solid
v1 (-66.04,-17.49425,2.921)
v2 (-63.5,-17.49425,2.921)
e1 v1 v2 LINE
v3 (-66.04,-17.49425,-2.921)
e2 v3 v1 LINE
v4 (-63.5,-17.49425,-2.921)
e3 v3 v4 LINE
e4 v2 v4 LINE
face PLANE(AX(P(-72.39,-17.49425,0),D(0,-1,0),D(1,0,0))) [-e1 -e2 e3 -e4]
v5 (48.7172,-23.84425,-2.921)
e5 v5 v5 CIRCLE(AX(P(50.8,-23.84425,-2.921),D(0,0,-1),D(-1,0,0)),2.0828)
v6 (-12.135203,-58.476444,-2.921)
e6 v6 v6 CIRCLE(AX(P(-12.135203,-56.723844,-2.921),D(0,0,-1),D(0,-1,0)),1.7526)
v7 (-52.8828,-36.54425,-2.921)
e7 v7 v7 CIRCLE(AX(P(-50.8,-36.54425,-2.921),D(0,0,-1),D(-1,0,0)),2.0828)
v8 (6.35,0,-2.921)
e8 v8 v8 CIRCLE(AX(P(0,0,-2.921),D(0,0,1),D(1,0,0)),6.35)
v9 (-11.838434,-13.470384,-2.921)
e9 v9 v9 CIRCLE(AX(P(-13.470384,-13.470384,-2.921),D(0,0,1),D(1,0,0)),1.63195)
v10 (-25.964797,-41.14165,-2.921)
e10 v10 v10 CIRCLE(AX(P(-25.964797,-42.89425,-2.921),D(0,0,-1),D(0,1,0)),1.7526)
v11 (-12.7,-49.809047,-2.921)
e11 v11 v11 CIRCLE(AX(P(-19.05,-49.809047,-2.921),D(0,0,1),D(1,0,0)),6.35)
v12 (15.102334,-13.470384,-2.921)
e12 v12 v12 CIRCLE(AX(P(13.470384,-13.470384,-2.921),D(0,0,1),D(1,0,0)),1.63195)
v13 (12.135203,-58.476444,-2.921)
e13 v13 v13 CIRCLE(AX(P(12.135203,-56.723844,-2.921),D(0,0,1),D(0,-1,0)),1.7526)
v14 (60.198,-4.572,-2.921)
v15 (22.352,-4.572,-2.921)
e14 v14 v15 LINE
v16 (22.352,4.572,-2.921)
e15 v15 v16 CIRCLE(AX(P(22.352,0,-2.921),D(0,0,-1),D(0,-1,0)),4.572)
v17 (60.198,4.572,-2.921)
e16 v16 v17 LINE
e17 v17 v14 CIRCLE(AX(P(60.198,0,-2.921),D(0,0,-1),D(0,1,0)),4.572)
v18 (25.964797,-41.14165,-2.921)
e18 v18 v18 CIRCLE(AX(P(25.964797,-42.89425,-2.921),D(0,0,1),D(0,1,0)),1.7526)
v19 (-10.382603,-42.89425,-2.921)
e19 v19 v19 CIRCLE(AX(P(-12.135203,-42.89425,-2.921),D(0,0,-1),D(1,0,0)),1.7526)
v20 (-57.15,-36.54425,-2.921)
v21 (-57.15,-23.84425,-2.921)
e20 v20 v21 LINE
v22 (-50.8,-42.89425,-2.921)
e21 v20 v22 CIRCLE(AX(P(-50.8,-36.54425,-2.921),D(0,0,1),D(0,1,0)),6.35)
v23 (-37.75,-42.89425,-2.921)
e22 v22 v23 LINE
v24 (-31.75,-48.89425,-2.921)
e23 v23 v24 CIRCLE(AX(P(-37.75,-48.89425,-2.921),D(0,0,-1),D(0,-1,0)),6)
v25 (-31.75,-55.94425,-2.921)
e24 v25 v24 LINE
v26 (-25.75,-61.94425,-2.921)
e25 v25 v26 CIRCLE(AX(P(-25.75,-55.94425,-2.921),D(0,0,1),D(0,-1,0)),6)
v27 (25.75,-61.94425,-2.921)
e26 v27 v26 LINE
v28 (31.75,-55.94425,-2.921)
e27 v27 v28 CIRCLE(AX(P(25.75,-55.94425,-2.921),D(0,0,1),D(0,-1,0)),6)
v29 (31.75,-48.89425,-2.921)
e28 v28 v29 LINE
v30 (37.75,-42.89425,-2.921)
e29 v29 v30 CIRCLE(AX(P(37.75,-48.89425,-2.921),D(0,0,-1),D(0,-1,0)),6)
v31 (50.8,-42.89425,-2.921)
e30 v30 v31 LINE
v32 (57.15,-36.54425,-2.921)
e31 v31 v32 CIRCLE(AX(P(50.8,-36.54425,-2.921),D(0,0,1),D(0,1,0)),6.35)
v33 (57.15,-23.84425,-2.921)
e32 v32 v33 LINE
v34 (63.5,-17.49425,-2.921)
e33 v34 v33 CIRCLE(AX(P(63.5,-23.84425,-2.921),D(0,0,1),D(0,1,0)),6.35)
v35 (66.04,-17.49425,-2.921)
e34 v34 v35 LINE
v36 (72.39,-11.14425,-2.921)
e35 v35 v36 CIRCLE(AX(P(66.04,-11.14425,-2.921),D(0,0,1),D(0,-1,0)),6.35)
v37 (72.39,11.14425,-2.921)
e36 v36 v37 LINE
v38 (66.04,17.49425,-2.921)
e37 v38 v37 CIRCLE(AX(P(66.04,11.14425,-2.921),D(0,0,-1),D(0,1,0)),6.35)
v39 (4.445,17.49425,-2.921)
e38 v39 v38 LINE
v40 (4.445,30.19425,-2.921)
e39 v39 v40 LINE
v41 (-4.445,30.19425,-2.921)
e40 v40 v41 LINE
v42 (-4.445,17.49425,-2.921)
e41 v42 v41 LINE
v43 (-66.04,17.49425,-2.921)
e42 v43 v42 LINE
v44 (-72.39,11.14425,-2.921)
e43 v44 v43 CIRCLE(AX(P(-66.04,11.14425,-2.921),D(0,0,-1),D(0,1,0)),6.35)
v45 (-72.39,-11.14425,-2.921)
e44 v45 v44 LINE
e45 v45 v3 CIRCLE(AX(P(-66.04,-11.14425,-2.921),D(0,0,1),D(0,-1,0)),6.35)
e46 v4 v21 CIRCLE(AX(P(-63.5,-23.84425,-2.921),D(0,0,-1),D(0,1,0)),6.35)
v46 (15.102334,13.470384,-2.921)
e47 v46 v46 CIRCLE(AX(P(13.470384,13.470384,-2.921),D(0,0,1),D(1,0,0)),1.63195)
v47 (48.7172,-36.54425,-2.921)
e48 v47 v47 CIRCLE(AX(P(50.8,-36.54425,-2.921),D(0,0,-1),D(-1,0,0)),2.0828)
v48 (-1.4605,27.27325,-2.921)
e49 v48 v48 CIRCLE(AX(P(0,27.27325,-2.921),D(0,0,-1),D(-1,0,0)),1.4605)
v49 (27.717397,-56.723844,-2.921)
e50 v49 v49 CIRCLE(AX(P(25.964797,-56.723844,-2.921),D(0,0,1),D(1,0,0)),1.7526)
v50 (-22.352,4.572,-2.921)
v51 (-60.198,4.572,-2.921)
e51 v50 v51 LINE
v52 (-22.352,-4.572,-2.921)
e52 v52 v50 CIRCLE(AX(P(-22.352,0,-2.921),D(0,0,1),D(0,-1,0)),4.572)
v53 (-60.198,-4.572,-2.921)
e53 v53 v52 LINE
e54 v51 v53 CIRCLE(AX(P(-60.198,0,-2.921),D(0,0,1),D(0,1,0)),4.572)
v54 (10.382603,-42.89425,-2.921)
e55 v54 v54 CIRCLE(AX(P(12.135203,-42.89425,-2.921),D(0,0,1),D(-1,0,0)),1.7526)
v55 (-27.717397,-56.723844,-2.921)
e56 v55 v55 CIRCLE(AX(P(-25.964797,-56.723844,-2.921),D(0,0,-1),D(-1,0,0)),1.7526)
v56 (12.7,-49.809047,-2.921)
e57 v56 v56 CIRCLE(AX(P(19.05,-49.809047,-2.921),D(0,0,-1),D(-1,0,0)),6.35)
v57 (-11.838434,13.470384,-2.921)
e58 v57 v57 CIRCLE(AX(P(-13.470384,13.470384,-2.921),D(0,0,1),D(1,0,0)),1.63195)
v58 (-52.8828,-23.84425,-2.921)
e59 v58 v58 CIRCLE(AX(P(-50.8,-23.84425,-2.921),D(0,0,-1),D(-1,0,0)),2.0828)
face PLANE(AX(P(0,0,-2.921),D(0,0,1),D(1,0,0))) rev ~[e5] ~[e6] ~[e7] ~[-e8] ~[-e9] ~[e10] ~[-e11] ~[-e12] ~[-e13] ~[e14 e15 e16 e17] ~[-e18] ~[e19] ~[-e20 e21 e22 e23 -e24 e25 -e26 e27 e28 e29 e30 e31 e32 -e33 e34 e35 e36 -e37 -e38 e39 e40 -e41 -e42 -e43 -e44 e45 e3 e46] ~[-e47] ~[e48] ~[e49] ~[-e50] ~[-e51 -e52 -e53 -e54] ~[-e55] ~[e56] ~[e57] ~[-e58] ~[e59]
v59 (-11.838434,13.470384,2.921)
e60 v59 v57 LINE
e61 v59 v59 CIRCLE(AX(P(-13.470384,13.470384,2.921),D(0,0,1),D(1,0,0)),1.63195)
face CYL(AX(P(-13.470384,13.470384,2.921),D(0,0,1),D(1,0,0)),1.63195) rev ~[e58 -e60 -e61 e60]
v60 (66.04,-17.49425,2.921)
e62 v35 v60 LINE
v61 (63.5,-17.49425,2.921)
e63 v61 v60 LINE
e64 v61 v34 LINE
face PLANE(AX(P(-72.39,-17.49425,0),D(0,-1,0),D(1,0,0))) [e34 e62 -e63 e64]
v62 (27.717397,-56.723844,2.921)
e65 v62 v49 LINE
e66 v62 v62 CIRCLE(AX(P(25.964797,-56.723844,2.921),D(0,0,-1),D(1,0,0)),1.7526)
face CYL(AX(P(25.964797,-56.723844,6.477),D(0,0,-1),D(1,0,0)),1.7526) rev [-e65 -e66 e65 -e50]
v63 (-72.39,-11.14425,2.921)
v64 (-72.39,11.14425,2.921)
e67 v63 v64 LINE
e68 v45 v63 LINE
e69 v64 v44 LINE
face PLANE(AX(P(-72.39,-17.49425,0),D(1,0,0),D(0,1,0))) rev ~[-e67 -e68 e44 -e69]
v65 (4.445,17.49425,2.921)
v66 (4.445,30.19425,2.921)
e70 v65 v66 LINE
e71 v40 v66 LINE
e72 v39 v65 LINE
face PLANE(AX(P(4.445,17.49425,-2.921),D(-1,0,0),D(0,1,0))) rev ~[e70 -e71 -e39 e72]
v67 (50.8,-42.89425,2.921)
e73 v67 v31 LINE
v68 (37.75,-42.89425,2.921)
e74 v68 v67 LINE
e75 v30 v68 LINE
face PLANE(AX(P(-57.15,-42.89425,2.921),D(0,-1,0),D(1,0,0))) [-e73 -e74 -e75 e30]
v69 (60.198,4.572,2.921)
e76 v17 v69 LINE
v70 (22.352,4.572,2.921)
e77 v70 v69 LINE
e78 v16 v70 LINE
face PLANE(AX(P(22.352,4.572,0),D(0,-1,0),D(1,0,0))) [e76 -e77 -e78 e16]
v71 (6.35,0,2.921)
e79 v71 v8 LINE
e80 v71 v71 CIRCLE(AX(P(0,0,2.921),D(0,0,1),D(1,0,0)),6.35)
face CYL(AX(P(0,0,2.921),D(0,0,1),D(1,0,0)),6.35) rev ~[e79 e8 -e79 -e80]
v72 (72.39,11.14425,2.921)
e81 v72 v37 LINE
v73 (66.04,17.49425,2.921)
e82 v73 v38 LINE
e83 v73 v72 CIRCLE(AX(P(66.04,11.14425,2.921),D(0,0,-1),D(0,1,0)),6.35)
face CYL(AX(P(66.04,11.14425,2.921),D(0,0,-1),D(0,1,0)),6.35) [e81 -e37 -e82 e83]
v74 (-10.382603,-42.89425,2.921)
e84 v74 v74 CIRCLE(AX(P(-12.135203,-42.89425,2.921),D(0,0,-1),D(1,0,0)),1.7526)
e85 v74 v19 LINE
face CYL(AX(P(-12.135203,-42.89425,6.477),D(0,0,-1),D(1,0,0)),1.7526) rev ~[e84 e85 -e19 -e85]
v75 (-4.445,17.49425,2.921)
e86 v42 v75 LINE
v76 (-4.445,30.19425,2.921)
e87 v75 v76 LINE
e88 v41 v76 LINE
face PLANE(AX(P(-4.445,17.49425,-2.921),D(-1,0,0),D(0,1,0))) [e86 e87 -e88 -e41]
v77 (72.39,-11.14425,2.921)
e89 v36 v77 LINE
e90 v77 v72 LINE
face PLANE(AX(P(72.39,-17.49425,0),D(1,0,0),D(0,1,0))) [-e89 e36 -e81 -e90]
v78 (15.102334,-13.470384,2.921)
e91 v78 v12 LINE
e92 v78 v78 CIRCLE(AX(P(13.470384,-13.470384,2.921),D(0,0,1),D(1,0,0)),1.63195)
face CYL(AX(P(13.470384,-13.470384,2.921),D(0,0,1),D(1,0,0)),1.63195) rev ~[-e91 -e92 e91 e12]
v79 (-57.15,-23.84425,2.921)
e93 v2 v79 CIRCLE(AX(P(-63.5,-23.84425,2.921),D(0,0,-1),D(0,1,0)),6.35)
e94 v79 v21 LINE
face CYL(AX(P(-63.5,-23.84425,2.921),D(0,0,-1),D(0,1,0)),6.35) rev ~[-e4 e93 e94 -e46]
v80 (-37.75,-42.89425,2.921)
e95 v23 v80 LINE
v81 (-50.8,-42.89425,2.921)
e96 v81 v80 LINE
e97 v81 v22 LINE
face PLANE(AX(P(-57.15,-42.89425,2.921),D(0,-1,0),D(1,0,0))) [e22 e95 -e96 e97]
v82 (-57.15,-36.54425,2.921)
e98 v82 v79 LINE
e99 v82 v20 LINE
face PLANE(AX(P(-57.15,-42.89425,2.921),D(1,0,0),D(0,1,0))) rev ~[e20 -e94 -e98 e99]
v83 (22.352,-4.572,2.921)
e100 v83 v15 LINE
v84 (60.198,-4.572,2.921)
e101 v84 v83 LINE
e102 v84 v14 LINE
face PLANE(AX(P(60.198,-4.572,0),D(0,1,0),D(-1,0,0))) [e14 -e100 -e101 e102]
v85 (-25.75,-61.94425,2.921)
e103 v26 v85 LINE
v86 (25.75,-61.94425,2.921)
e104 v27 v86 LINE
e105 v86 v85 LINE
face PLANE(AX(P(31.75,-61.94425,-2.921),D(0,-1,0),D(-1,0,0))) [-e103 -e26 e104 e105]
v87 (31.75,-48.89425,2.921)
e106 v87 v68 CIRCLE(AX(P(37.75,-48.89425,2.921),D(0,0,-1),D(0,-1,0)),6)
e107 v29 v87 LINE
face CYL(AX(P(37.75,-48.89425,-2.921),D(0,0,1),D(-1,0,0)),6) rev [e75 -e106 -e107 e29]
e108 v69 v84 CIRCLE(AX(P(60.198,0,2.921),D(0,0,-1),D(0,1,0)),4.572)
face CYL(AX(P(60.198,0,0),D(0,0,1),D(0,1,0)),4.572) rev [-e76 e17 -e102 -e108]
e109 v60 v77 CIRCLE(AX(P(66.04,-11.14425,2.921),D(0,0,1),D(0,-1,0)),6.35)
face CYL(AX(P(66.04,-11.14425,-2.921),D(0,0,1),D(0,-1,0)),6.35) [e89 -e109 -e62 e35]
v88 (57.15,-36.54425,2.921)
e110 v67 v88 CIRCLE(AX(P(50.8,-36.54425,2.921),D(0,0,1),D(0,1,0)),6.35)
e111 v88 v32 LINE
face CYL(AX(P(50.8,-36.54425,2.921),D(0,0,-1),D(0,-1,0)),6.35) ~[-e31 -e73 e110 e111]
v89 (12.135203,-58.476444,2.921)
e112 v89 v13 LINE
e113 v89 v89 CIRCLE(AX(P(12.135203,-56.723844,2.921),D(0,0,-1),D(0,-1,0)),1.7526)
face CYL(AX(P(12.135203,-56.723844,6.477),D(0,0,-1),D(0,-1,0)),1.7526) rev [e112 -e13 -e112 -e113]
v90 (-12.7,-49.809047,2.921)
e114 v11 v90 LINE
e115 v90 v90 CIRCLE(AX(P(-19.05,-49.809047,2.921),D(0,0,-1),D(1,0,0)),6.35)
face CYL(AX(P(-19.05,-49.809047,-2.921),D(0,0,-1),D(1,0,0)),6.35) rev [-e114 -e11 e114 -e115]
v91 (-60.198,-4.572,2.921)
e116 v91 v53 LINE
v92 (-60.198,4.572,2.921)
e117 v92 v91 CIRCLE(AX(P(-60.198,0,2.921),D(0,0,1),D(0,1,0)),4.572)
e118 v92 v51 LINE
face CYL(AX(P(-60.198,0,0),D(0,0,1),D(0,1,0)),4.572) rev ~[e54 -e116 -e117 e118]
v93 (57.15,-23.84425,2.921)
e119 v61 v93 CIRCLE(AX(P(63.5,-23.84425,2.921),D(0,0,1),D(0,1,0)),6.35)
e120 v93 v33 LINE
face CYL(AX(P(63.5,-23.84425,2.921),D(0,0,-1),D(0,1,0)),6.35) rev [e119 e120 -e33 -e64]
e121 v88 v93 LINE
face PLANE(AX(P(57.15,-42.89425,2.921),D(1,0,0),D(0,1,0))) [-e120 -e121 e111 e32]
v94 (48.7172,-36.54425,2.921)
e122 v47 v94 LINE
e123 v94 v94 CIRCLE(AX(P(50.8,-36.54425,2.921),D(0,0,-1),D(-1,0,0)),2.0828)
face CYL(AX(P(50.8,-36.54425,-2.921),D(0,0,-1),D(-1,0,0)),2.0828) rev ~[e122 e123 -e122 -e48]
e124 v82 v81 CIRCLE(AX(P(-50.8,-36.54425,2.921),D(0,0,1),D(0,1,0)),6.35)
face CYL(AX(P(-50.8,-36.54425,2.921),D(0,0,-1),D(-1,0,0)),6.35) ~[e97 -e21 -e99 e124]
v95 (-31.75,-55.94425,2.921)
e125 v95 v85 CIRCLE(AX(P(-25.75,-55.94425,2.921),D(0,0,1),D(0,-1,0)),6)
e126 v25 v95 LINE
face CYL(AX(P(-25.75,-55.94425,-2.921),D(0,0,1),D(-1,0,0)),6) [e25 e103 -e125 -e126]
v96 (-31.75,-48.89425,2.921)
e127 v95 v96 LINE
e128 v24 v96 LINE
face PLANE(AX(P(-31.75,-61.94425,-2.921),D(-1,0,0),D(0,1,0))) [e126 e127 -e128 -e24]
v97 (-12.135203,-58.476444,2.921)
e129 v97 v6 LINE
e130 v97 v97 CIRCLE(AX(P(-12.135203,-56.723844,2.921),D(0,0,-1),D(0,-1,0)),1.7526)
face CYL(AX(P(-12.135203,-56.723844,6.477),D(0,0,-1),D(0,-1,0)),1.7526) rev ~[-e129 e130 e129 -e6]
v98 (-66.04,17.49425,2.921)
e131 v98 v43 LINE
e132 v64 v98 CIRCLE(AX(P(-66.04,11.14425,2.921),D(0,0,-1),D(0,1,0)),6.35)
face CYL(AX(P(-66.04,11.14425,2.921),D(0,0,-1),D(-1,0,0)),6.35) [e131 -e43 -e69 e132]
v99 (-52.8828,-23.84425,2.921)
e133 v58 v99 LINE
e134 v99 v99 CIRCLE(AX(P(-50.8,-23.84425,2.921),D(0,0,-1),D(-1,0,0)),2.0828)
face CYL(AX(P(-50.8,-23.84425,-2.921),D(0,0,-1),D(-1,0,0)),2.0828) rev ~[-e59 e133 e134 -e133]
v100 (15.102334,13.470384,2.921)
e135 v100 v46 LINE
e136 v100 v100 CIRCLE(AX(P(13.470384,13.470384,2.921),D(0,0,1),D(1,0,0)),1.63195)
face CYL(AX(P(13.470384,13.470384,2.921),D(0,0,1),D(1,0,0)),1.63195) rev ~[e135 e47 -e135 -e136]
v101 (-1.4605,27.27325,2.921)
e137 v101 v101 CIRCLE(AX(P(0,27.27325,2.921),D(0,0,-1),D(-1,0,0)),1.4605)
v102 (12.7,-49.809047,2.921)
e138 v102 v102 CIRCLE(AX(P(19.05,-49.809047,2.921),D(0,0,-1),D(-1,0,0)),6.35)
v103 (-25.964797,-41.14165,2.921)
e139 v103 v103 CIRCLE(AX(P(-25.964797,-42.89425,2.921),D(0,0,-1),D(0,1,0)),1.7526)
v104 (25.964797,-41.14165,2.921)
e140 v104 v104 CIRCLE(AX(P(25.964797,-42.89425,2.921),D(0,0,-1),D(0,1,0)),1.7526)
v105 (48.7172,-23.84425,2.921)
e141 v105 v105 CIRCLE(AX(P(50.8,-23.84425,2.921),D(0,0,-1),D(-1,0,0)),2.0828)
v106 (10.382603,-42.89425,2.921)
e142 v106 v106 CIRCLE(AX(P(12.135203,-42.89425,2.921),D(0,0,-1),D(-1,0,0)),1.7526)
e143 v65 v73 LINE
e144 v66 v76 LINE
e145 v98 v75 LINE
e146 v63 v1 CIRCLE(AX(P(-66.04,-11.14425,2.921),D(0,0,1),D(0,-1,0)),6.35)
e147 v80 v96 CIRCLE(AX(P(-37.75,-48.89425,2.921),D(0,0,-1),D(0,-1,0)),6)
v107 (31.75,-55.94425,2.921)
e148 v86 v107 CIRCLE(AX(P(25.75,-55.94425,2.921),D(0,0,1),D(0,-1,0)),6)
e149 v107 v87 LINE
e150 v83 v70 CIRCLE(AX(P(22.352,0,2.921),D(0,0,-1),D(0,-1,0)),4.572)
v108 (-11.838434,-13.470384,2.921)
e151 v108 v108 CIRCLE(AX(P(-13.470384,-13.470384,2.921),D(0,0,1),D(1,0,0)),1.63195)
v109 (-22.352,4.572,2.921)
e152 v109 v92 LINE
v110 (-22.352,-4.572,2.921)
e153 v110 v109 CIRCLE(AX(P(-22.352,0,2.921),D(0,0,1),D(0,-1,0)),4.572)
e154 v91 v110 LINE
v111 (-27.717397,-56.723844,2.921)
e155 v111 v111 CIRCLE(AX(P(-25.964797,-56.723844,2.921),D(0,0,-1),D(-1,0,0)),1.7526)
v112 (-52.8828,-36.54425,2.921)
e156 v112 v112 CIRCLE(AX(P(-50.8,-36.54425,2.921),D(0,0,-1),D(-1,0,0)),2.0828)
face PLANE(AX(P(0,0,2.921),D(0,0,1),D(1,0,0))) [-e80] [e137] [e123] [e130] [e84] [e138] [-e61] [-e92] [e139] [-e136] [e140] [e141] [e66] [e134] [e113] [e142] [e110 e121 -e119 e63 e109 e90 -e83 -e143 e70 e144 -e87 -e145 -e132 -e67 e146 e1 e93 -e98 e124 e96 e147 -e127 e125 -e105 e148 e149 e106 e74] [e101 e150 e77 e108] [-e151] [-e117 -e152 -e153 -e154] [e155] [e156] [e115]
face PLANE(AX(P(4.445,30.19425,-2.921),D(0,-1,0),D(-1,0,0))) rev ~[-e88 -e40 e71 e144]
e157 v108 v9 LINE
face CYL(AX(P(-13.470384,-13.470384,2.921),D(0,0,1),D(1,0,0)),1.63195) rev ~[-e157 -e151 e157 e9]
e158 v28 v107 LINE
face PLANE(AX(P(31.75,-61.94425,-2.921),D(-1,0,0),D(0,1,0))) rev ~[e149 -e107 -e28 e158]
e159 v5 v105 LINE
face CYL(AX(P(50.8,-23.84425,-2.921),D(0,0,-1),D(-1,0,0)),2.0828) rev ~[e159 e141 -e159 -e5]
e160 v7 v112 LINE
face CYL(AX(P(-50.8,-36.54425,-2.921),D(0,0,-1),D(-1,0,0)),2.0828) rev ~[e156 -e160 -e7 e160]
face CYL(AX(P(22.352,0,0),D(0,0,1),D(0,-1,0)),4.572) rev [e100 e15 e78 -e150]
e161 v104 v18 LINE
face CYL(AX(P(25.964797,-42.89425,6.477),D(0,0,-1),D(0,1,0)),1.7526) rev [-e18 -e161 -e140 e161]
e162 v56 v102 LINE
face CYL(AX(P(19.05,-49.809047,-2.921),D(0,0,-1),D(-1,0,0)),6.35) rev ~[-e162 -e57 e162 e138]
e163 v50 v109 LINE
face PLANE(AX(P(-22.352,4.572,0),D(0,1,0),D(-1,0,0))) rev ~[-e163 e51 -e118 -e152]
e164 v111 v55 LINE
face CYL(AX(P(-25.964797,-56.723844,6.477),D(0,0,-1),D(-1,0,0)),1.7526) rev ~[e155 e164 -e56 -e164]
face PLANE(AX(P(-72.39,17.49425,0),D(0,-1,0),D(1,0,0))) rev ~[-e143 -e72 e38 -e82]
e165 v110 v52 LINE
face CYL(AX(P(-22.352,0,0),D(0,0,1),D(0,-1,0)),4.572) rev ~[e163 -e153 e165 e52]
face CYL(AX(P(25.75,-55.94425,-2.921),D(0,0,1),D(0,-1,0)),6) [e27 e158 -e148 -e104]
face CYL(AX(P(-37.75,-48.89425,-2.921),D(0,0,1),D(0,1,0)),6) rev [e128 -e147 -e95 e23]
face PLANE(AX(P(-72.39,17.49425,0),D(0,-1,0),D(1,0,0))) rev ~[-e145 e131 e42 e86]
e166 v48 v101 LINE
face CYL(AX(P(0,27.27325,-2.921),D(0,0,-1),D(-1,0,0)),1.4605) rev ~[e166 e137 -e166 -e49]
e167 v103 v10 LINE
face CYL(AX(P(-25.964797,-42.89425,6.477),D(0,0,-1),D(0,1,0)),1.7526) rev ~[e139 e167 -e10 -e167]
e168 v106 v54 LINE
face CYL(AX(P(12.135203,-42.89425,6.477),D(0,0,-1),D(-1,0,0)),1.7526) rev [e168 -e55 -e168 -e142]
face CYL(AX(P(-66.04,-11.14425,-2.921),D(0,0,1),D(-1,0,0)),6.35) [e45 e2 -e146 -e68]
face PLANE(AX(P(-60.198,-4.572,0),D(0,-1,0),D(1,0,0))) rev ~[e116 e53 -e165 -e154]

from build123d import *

# Parameters (mm, degrees)
SKETCH1_W           = 144.78
SKETCH1_H           = 34.9885
BOSS_EXTRUDE1_DEPTH = 2.921
SKETCH2_R           = 6.35
SKETCH2_R_2         = 1.63195
CUT_EXTRUDE1_DEPTH  = 75.702676305
FILLET1_R           = 6.35
SKETCH3_W           = 114.3
SKETCH3_H           = 25.4
BOSS_EXTRUDE2_DEPTH = 5.842
FILLET2_R           = 6.35
SKETCH5_R           = 2.0828
CUT_EXTRUDE3_DEPTH  = 85.346652258
SKETCH6_W           = 8.89
SKETCH6_H           = 12.7
SKETCH6_R           = 1.4605
BOSS_EXTRUDE3_DEPTH = 5.842
SKETCH4_W           = 63.5
SKETCH4_H           = 19.05
BOSS_EXTRUDE4_DEPTH = 5.842
SKETCH7_R           = 6.35
CUT_EXTRUDE4_DEPTH  = 96.454340771
CIRPATTERN1_COUNT   = 4
FILLET3_R           = 6


with BuildPart() as part:
    # Sketch1 → Boss-Extrude1 (new, symmetric)
    with BuildSketch(Plane.XY):
        Rectangle(SKETCH1_W, SKETCH1_H)
        with BuildLine():
            Line((22.352, 4.572), (60.198, 4.572))
            ThreePointArc((60.198, 4.572), (64.77, 0), (60.198, -4.572))
            Line((60.198, -4.572), (22.352, -4.572))
            ThreePointArc((22.352, -4.572), (17.78, 0), (22.352, 4.572))
        make_face(mode=Mode.SUBTRACT)
        with BuildLine():
            Line((-22.352, 4.572), (-60.198, 4.572))
            ThreePointArc((-60.198, 4.572), (-64.77, 0), (-60.198, -4.572))
            Line((-60.198, -4.572), (-22.352, -4.572))
            ThreePointArc((-22.352, -4.572), (-17.78, 0), (-22.352, 4.572))
        make_face(mode=Mode.SUBTRACT)
    extrude(amount=BOSS_EXTRUDE1_DEPTH, both=True)

    # Sketch2 → Cut-Extrude1 (cut, through all)
    with BuildSketch(Plane.XY.offset(2.921)):
        Circle(SKETCH2_R)
        with Locations((13.470384182, -13.470384182)):
            Circle(SKETCH2_R_2)
        with Locations((-13.470384182, -13.470384182)):
            Circle(SKETCH2_R_2)
        with Locations((-13.470384182, 13.470384182)):
            Circle(SKETCH2_R_2)
        with Locations((13.470384182, 13.470384182)):
            Circle(SKETCH2_R_2)
    extrude(amount=-CUT_EXTRUDE1_DEPTH, mode=Mode.SUBTRACT)

    # Fillet1
    fillet1_edges = [part.edges().sort_by_distance(p)[0] for p in [
        (-72.39, 17.49425, 0),
        (72.39, 17.49425, 0),
        (72.39, -17.49425, 0),
        (-72.39, -17.49425, 0),
    ]]
    fillet(fillet1_edges, radius=FILLET1_R)

    # Sketch3 → Boss-Extrude2 (add)
    with BuildSketch(Plane.XY.offset(2.921)):
        with Locations((0, -30.19425)):
            Rectangle(SKETCH3_W, SKETCH3_H)
    extrude(amount=-BOSS_EXTRUDE2_DEPTH)

    # Fillet2
    fillet2_edges = [part.edges().sort_by_distance(p)[0] for p in [
        (-57.15, -42.89425, 0),
        (-57.15, -17.49425, 0),
        (57.15, -17.49425, 0),
        (57.15, -42.89425, 0),
    ]]
    fillet(fillet2_edges, radius=FILLET2_R)

    # Sketch5 → Cut-Extrude3 (cut, through all)
    with BuildSketch(Plane(origin=(0, 0, -2.921), x_dir=(-1, 0, 0), z_dir=(0, 0, -1))):
        with Locations((-50.8, -36.54425)):
            Circle(SKETCH5_R)
        with Locations((50.8, -36.54425)):
            Circle(SKETCH5_R)
        with Locations((50.8, -23.84425)):
            Circle(SKETCH5_R)
        with Locations((-50.8, -23.84425)):
            Circle(SKETCH5_R)
    extrude(amount=-CUT_EXTRUDE3_DEPTH, mode=Mode.SUBTRACT)

    # Sketch6 → Boss-Extrude3 (add)
    with BuildSketch(Plane(origin=(0, 0, -2.921), x_dir=(-1, 0, 0), z_dir=(0, 0, -1))):
        with Locations((0, 23.84425)):
            Rectangle(SKETCH6_W, SKETCH6_H)
        with Locations((0, 27.27325)):
            Circle(SKETCH6_R, mode=Mode.SUBTRACT)
    extrude(amount=-BOSS_EXTRUDE3_DEPTH)

    # Sketch4 → Boss-Extrude4 (add)
    with BuildSketch(Plane(origin=(0, 0, -2.921), x_dir=(-1, 0, 0), z_dir=(0, 0, -1))):
        with Locations((0, -52.41925)):
            Rectangle(SKETCH4_W, SKETCH4_H)
    extrude(amount=-BOSS_EXTRUDE4_DEPTH)

    # Sketch7 → Cut-Extrude4 (cut, through all)
    with BuildSketch(Plane(origin=(0, 0, -2.921), x_dir=(-1, 0, 0), z_dir=(0, 0, -1))):
        with Locations((-19.05, -49.809047213)):
            Circle(SKETCH7_R)
    cut_extrude4 = extrude(amount=-CUT_EXTRUDE4_DEPTH, mode=Mode.SUBTRACT)

    # Sketch9 → #6 Clearance Hole1 (revolve, cut)
    with BuildSketch(Plane(origin=(25.964797213, -42.89425, -2.921), x_dir=(0, 1, 0), z_dir=(1, 0, 0))):
        Polygon((0, 0), (0, 10.451068321), (1.7526, 9.398), (1.7526, 0), align=None)
    f_6_clearance_hole1 = revolve(axis=Axis((25.964797213, -42.89425, -9.271), (0, 0, 1)), mode=Mode.SUBTRACT)

    # CirPattern1: #6 Clearance Hole1 ×4 about axis
    cirpattern1_axis = Axis((19.05, -49.809047213, 0), (0, 0, 1))
    for i in range(1, CIRPATTERN1_COUNT):
        add(f_6_clearance_hole1.rotate(cirpattern1_axis, i * 360 / CIRPATTERN1_COUNT), mode=Mode.SUBTRACT)

    # Mirror1: Cut-Extrude4, #6 Clearance Hole1 across plane
    add(cut_extrude4.mirror(Plane.ZY), mode=Mode.SUBTRACT)
    add(f_6_clearance_hole1.mirror(Plane.ZY), mode=Mode.SUBTRACT)

    # Mirror1 copy 1 sketch → Mirror1 copy 1 (revolve, cut)
    with BuildSketch(Plane(origin=(-12.135202787, -42.89425, -2.921), x_dir=(1, 0, 0), z_dir=(0, 1, 0))):
        Polygon((0, 0), (0, -10.451068321), (1.7526, -9.398), (1.7526, 0), align=None)
    revolve(axis=Axis((-12.135202787, -42.89425, -9.271), (0, 0, -1)), mode=Mode.SUBTRACT)

    # Mirror1 copy 2 sketch → Mirror1 copy 2 (revolve, cut)
    with BuildSketch(Plane(origin=(-12.135202787, -56.723844426, -2.921), x_dir=(0, -1, 0), z_dir=(1, 0, 0))):
        Polygon((0, 0), (0, -10.451068321), (1.7526, -9.398), (1.7526, 0), align=None)
    revolve(axis=Axis((-12.135202787, -56.723844426, -9.271), (0, 0, -1)), mode=Mode.SUBTRACT)

    # Mirror1 copy 3 sketch → Mirror1 copy 3 (revolve, cut)
    with BuildSketch(Plane(origin=(-25.964797213, -56.723844426, -2.921), x_dir=(-1, 0, 0), z_dir=(0, -1, 0))):
        Polygon((0, 0), (0, -10.451068321), (1.7526, -9.398), (1.7526, 0), align=None)
    revolve(axis=Axis((-25.964797213, -56.723844426, -9.271), (0, 0, -1)), mode=Mode.SUBTRACT)

    # Fillet3
    fillet3_edges = [part.edges().sort_by_distance(p)[0] for p in [
        (31.75, -42.89425, 0),
        (31.75, -61.94425, 0),
        (-31.75, -61.94425, 0),
        (-31.75, -42.89425, 0),
    ]]
    fillet(fillet3_edges, radius=FILLET3_R)


solid = part.part
